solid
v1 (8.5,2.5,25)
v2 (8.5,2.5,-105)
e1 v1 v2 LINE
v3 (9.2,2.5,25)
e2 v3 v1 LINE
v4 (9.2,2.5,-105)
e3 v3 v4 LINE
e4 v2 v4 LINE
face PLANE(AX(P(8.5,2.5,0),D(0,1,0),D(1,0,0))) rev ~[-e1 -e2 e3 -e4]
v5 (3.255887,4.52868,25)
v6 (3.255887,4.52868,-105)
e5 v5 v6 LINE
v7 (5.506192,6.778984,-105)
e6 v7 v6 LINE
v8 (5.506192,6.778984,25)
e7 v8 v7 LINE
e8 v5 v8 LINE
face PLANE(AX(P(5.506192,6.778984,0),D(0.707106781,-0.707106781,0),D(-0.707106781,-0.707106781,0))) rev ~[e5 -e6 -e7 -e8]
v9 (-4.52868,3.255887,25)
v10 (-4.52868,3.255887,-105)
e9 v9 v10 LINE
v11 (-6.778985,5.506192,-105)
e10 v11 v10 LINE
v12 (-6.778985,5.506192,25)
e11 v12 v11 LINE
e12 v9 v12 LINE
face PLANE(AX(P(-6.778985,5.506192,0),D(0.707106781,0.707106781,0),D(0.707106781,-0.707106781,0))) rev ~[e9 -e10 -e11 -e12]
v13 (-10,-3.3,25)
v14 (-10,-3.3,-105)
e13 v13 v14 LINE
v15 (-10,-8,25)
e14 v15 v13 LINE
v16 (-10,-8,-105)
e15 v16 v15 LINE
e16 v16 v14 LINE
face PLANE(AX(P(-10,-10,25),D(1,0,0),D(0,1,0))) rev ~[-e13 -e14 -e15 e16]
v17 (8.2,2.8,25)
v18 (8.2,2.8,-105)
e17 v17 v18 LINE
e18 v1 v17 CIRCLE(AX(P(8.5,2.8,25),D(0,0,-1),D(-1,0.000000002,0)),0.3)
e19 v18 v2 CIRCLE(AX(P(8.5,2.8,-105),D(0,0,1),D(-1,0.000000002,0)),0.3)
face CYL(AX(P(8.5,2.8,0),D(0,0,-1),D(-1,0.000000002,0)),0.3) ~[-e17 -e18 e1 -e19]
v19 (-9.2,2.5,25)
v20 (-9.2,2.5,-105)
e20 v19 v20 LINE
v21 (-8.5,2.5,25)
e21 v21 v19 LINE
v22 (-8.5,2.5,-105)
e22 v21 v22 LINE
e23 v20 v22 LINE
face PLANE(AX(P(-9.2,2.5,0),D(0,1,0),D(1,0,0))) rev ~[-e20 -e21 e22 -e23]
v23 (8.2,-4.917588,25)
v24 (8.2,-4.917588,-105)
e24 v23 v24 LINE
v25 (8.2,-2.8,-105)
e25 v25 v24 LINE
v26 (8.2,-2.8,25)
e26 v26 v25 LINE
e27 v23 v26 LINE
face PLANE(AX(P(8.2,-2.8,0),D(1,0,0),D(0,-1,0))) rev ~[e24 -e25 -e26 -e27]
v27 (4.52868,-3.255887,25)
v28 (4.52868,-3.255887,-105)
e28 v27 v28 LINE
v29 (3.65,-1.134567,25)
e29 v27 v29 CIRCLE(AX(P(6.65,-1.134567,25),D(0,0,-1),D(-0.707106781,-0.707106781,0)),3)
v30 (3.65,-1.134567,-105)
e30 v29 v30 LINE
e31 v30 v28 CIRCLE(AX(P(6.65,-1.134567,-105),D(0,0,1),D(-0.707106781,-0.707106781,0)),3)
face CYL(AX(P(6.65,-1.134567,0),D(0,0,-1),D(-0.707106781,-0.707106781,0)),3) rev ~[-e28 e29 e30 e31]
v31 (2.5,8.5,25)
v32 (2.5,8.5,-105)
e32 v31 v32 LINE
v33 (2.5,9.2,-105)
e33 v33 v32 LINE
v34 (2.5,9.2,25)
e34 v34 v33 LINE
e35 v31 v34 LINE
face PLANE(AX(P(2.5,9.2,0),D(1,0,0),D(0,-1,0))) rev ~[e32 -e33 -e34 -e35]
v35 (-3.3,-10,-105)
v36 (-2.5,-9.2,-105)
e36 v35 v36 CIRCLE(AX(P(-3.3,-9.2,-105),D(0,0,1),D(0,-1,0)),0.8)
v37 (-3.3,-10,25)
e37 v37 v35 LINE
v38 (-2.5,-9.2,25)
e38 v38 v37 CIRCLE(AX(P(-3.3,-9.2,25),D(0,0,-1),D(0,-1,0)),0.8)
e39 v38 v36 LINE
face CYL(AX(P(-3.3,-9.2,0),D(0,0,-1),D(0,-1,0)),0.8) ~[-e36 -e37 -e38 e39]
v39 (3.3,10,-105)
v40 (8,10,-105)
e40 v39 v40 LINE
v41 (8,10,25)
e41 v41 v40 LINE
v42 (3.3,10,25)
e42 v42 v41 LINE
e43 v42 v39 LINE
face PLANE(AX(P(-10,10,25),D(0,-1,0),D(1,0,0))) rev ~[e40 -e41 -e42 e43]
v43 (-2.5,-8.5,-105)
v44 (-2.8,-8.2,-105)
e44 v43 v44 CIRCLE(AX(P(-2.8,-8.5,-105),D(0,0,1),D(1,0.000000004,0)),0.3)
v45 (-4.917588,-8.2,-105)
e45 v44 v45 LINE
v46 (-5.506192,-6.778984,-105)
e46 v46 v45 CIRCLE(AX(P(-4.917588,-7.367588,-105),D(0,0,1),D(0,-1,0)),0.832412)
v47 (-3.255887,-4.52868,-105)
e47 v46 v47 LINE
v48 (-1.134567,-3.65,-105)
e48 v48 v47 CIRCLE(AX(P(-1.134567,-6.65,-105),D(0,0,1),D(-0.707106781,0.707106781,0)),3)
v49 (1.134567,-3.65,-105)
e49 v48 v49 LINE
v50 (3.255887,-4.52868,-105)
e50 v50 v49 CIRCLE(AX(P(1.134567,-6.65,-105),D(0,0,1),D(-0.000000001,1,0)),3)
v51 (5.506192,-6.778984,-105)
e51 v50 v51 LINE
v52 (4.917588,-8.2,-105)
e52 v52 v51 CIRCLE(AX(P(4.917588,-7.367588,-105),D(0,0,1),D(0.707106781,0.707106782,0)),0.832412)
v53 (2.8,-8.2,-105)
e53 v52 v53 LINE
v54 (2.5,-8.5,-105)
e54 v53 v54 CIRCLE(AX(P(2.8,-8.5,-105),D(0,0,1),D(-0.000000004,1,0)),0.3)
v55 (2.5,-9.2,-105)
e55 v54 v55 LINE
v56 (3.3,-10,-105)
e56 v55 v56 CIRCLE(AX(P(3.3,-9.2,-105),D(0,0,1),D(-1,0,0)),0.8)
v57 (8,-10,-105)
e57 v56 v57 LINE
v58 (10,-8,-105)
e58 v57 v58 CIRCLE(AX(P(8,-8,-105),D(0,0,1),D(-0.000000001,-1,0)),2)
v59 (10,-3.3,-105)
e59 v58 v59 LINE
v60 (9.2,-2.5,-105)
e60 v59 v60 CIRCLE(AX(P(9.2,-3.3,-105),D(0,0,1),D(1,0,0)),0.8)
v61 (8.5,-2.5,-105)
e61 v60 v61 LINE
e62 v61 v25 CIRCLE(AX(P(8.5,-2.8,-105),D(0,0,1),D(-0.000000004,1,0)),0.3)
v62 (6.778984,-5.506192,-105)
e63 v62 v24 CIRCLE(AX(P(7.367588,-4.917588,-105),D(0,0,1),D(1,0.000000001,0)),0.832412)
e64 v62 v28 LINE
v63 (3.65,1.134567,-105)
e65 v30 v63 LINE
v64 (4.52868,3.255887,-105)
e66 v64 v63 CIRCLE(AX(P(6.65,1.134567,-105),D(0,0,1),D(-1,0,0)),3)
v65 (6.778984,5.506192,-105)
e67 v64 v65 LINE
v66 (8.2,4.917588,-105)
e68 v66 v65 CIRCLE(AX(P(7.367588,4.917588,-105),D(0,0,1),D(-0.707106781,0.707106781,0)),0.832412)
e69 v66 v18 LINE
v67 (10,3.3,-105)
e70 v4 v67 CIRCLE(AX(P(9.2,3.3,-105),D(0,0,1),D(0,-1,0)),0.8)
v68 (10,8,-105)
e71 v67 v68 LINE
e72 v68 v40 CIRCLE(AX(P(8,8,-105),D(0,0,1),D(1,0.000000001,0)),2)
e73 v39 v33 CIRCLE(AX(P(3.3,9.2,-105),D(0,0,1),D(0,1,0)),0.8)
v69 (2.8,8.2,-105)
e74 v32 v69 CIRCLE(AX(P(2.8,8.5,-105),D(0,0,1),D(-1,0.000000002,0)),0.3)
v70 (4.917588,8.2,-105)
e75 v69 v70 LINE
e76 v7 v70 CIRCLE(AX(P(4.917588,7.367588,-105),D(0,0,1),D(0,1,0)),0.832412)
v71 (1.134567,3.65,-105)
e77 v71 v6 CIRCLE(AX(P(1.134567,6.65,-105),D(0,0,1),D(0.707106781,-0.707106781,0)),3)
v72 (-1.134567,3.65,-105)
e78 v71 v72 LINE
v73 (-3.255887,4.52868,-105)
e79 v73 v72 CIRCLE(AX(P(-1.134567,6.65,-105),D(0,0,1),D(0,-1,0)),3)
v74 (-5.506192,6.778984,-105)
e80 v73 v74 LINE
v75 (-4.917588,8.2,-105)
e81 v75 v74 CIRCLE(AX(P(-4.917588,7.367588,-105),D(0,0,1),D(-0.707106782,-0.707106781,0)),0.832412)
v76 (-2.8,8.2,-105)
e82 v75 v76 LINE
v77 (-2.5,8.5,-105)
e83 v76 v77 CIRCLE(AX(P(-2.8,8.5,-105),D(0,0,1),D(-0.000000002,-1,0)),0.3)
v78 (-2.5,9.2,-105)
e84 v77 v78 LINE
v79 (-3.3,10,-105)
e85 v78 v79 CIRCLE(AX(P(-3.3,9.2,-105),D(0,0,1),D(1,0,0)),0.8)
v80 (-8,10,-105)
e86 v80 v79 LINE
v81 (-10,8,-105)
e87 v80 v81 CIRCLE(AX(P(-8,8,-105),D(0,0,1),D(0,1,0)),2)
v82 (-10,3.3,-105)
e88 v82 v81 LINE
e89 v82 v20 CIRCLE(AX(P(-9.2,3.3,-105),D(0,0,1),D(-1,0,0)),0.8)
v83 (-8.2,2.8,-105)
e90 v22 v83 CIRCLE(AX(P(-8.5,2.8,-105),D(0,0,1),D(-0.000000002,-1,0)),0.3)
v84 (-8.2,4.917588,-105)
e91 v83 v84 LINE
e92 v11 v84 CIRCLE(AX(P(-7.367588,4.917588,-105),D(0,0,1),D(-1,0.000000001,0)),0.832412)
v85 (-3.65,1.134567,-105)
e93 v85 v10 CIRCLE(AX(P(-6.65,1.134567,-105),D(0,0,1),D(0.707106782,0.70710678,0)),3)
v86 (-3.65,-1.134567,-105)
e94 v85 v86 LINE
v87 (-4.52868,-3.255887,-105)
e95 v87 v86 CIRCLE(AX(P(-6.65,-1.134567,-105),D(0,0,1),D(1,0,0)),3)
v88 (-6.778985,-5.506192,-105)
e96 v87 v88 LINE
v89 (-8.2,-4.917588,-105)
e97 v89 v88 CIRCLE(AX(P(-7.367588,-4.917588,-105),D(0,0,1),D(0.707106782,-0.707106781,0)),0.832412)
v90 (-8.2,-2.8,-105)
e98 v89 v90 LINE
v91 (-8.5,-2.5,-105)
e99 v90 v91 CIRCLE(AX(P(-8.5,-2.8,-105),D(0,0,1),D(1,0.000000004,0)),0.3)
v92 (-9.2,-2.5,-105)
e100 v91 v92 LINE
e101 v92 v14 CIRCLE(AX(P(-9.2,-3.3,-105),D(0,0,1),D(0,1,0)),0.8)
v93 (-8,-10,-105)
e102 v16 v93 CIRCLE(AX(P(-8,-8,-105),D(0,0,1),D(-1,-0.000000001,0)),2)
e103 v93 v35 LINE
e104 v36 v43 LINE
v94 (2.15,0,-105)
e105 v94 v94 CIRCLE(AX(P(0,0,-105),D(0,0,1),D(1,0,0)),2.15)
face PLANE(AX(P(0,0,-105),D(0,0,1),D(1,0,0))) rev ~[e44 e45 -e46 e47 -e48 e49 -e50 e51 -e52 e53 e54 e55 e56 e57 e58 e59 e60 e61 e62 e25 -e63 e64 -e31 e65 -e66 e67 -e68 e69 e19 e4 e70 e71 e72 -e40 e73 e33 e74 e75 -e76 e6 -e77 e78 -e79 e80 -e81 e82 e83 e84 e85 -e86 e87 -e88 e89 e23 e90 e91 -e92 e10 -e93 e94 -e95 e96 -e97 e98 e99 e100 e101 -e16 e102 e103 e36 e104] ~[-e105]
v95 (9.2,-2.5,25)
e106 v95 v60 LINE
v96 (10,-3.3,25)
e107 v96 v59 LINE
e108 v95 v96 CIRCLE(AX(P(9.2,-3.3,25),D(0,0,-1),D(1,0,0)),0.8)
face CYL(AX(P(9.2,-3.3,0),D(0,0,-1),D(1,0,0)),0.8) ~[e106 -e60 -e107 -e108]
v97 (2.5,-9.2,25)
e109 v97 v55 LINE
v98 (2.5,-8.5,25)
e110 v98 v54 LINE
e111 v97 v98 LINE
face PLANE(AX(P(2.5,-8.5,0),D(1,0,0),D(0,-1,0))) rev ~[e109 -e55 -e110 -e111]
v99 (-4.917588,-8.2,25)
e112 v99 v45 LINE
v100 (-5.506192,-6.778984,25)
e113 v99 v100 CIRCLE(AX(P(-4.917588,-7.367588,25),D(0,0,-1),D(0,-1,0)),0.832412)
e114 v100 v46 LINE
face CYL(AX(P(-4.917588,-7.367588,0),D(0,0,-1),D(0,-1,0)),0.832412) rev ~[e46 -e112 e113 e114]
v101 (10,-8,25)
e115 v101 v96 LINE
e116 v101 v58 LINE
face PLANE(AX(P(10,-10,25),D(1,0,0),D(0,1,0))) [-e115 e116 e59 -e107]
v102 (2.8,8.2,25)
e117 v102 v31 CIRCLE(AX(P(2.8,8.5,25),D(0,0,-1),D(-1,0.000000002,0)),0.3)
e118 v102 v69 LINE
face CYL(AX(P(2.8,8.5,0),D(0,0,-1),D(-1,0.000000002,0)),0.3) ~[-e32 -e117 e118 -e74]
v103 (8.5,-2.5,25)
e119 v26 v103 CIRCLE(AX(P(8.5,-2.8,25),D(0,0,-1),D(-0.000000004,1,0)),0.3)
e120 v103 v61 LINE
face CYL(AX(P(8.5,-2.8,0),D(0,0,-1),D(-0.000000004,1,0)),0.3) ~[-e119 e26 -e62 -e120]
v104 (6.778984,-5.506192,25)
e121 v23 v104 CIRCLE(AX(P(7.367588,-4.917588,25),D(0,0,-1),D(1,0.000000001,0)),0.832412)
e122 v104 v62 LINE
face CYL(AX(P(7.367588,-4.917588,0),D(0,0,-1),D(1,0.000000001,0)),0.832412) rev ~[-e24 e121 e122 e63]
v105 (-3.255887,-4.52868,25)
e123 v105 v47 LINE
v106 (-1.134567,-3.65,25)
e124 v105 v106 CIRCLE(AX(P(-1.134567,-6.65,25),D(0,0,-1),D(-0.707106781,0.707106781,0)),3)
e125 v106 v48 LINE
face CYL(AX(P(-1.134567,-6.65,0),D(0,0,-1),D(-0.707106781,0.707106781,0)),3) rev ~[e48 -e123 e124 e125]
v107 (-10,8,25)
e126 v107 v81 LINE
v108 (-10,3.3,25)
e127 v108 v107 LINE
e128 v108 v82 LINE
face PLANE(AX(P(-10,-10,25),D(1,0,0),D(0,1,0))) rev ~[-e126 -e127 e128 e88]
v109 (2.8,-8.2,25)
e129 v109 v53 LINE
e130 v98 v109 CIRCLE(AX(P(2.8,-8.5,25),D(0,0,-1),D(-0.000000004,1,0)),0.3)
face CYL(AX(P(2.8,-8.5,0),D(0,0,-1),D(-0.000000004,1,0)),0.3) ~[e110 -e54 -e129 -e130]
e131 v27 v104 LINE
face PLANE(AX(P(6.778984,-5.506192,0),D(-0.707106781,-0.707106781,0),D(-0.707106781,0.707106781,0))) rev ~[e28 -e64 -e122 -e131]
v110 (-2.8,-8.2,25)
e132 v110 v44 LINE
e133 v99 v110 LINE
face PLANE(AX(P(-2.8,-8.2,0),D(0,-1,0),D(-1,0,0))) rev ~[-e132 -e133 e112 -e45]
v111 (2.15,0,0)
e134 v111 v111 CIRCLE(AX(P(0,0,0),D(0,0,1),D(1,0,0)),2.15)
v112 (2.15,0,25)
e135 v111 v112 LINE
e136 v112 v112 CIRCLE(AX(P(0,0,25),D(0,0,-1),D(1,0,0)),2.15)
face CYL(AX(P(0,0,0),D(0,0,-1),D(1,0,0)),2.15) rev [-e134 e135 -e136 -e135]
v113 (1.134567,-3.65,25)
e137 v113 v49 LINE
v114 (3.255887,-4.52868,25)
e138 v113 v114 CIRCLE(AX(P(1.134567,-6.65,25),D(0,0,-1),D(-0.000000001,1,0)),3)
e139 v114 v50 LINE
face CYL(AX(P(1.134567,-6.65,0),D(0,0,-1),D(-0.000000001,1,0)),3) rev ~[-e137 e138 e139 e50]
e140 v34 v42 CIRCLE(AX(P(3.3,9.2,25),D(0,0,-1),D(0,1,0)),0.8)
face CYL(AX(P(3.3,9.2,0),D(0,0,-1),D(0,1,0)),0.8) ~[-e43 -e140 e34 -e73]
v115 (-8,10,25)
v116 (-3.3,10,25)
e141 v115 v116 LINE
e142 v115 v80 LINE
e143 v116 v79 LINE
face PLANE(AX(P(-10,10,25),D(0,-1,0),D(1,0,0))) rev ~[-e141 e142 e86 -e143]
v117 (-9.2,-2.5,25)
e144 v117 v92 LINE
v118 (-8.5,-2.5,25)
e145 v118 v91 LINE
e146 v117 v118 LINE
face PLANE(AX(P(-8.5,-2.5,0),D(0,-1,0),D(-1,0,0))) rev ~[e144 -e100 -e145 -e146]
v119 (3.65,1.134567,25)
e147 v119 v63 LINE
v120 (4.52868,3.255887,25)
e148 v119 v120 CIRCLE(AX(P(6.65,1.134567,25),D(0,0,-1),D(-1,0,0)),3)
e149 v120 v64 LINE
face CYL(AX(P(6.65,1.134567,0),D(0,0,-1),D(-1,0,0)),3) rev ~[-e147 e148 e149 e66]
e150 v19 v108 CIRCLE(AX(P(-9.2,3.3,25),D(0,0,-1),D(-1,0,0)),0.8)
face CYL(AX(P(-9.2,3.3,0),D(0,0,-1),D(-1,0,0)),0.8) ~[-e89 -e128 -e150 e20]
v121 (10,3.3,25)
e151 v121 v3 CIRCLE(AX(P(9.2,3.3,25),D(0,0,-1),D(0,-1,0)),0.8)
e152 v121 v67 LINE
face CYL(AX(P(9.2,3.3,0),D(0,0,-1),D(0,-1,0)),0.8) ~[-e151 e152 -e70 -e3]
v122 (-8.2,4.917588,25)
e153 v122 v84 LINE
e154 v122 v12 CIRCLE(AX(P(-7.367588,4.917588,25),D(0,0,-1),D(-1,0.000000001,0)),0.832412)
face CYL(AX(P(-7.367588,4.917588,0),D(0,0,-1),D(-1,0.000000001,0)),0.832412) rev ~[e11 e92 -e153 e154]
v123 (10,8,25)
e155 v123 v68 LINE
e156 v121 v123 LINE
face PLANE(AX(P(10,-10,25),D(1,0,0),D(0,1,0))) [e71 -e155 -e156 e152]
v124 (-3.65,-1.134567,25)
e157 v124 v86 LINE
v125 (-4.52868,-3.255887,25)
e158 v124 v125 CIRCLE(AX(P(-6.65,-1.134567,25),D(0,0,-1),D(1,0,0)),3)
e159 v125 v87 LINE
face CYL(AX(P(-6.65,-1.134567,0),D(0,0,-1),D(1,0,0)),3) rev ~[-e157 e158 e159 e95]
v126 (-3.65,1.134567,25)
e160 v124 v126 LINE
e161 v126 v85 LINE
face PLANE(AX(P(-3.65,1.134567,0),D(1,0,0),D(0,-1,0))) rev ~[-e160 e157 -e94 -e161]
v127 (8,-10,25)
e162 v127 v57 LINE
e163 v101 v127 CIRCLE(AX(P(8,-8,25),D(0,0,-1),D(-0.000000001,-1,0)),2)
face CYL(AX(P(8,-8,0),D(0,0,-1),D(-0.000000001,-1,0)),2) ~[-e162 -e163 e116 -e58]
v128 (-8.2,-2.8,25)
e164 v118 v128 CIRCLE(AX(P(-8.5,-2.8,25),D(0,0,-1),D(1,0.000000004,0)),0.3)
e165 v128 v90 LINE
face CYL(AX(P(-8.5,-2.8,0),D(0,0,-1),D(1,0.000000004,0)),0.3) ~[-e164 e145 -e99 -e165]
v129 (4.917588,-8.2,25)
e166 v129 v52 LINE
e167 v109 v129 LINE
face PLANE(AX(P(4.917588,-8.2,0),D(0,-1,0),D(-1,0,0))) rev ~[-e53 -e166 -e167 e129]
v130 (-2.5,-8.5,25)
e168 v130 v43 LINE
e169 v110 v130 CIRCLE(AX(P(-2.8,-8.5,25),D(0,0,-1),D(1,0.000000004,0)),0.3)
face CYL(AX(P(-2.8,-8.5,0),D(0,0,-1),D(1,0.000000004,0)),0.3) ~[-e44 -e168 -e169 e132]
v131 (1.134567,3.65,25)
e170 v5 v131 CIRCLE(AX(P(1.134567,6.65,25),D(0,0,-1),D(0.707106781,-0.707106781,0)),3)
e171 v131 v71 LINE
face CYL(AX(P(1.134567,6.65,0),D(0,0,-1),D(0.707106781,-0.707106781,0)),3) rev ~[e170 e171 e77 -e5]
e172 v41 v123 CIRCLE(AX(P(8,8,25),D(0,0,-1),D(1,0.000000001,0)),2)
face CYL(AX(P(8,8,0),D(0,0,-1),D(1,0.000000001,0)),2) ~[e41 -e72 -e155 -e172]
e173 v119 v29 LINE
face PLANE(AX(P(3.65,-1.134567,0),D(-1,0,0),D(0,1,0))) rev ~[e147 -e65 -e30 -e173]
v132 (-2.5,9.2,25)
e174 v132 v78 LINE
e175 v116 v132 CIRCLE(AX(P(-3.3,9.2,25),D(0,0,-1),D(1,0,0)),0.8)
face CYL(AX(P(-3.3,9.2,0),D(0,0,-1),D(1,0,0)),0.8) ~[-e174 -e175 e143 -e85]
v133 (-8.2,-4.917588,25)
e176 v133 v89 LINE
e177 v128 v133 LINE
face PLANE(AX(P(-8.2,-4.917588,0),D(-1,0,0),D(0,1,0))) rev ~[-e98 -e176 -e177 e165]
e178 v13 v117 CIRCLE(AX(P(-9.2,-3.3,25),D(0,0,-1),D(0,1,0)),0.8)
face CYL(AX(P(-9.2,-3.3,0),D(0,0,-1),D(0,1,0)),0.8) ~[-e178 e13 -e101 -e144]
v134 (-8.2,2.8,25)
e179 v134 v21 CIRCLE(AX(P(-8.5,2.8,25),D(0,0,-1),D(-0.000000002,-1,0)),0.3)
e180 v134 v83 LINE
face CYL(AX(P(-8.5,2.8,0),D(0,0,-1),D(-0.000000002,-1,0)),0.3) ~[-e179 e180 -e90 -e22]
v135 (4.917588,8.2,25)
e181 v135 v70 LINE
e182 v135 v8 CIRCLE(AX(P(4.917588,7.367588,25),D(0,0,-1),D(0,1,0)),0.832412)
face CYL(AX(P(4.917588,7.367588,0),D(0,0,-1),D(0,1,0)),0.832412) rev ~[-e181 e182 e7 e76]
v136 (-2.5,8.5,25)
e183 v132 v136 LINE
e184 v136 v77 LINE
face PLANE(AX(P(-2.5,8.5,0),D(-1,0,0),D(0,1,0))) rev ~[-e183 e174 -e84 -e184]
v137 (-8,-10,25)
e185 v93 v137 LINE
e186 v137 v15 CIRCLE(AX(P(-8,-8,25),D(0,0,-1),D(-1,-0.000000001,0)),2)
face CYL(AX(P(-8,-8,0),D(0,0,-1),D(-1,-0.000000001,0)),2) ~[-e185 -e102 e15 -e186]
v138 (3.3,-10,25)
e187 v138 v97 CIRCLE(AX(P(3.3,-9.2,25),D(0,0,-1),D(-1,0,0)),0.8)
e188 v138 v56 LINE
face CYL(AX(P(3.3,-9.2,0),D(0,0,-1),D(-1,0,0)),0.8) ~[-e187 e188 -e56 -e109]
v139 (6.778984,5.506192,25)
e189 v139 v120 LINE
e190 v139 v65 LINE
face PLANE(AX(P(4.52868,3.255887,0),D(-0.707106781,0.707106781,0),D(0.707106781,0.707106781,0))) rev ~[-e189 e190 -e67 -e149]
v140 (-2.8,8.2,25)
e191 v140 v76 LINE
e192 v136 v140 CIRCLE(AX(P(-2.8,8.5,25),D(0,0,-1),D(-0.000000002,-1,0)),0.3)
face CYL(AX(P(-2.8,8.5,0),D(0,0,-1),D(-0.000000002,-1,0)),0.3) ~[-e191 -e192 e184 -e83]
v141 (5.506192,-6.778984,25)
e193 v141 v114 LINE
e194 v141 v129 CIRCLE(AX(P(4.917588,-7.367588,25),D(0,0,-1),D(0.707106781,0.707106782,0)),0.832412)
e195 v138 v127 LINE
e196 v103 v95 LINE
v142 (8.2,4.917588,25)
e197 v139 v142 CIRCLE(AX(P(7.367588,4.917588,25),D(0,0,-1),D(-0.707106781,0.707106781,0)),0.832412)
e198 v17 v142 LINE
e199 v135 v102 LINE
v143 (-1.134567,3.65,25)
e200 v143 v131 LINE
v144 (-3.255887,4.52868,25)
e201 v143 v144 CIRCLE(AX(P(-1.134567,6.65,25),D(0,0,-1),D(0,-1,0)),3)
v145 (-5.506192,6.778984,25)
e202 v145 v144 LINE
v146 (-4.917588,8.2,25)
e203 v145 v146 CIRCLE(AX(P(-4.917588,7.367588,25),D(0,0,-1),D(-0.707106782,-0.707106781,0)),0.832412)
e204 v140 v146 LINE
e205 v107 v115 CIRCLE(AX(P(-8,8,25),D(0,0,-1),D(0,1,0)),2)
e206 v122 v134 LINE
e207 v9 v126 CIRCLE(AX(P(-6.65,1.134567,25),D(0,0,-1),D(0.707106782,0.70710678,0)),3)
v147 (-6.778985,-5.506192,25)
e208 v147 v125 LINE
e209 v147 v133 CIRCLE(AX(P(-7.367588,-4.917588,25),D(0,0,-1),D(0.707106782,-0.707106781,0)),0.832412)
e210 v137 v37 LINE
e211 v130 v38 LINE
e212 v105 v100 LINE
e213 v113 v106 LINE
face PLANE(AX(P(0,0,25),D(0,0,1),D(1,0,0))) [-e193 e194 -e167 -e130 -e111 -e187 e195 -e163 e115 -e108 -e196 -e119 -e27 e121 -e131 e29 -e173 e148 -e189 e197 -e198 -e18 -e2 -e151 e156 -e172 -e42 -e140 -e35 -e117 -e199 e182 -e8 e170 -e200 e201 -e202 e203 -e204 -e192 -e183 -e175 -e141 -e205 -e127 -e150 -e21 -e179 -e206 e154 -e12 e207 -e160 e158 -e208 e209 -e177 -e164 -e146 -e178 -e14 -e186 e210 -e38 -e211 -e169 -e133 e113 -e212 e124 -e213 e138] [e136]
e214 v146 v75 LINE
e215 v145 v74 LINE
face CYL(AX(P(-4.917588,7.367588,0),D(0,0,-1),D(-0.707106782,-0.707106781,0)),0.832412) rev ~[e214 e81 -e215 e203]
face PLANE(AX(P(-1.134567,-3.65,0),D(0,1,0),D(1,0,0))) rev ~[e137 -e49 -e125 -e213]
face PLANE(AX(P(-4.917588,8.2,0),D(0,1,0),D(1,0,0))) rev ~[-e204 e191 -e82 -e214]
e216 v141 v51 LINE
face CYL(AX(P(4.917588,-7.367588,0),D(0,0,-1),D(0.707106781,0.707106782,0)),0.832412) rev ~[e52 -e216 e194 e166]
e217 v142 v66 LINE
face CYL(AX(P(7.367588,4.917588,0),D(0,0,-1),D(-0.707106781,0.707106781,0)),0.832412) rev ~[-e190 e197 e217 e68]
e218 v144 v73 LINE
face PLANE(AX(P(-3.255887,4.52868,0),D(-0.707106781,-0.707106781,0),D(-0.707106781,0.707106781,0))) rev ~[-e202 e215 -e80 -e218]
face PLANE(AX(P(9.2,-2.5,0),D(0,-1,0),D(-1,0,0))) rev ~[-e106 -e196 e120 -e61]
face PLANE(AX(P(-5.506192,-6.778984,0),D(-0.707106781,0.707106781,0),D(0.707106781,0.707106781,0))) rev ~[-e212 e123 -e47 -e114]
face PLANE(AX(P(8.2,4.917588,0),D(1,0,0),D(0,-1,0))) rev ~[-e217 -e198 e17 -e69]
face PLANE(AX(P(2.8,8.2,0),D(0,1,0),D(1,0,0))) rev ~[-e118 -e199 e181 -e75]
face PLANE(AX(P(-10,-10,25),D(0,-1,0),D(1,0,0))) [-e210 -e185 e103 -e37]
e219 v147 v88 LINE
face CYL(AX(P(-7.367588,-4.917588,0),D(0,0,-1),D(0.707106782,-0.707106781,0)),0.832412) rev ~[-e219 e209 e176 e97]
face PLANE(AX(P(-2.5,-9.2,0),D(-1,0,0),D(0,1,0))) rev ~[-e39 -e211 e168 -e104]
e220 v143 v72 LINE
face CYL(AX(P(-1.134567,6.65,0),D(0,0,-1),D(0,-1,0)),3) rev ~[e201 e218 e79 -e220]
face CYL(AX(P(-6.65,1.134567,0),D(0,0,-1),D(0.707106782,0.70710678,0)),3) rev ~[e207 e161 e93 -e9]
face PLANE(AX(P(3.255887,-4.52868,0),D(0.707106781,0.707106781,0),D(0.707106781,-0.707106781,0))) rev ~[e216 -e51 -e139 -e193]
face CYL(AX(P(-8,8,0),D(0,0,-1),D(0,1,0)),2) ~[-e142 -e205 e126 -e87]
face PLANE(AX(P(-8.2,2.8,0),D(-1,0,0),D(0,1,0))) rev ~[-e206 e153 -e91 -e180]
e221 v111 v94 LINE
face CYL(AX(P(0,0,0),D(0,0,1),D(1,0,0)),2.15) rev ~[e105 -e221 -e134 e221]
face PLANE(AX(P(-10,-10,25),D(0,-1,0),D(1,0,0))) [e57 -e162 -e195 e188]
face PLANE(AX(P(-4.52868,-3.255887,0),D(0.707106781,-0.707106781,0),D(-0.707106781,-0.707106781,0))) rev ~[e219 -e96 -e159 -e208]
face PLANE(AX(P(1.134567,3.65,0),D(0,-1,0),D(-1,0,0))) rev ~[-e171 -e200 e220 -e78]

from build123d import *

# Parameters (mm, degrees)
SKETCH4_W              = 20
SKETCH4_H              = 20
BODY_DEPTH             = 130
SKETCH16_OUTSIDE_W     = 48.608
SKETCH16_OUTSIDE_H     = 48.608
SKETCH16_OUTSIDE_R     = 2.15
CUT_PROFILE_DEPTH      = 26
CUT_PROFILE_DEPTH_BACK = 106


with BuildPart() as part:
    # Sketch4 → Body (new body)
    with BuildSketch(Plane.XY.offset(25)):
        Rectangle(SKETCH4_W, SKETCH4_H)
    extrude(amount=-BODY_DEPTH)

    # Sketch16 outside → Cut-Profile (cut, two sides)
    with BuildSketch(Plane.XY) as cut_profile_sk:
        Rectangle(SKETCH16_OUTSIDE_W, SKETCH16_OUTSIDE_H)
        with BuildLine():
            Line((4.917588389, -8.199999991), (2.799999989, -8.199999991))
            ThreePointArc((2.799999989, -8.199999991), (2.587867955, -8.287867957), (2.499999989, -8.499999991))
            Line((2.499999989, -8.499999991), (2.499999989, -9.199999991))
            ThreePointArc((2.499999989, -9.199999991), (2.734314564, -9.765685416), (3.299999989, -9.999999991))
            Line((3.299999989, -9.999999991), (7.999999989, -9.999999991))
            ThreePointArc((7.999999989, -9.999999991), (9.414213552, -9.414213554), (9.999999989, -7.999999991))
            Line((9.999999989, -7.999999991), (9.999999989, -3.299999991))
            ThreePointArc((9.999999989, -3.299999991), (9.765685414, -2.734314566), (9.199999989, -2.499999991))
            Line((9.199999989, -2.499999991), (8.499999989, -2.499999991))
            ThreePointArc((8.499999989, -2.499999991), (8.287867955, -2.587867957), (8.199999989, -2.799999991))
            Line((8.199999989, -2.799999991), (8.199999989, -4.917588391))
            ThreePointArc((8.199999989, -4.917588391), (7.686138511, -5.686636441), (6.778984485, -5.506192286))
            Line((6.778984485, -5.506192286), (4.528679645, -3.255887446))
            ThreePointArc((4.528679645, -3.255887446), (3.878361392, -2.282617401), (3.64999999, -1.134567106))
            Line((3.64999999, -1.134567106), (3.64999999, 1.134567104))
            ThreePointArc((3.64999999, 1.134567104), (3.878361393, 2.282617402), (4.528679647, 3.255887448))
            Line((4.528679647, 3.255887448), (6.778984487, 5.506192288))
            ThreePointArc((6.778984487, 5.506192288), (7.686138506, 5.686636442), (8.199999981, 4.917588398))
            Line((8.199999981, 4.917588398), (8.199999981, 2.799999998))
            ThreePointArc((8.199999981, 2.799999998), (8.287867946, 2.587867964), (8.499999981, 2.499999998))
            Line((8.499999981, 2.499999998), (9.199999981, 2.499999998))
            ThreePointArc((9.199999981, 2.499999998), (9.765685406, 2.734314573), (9.999999981, 3.299999998))
            Line((9.999999981, 3.299999998), (9.999999981, 7.999999998))
            ThreePointArc((9.999999981, 7.999999998), (9.414213543, 9.41421356), (7.999999981, 9.999999998))
            Line((7.999999981, 9.999999998), (3.299999981, 9.999999998))
            ThreePointArc((3.299999981, 9.999999998), (2.734314556, 9.765685423), (2.499999981, 9.199999998))
            Line((2.499999981, 9.199999998), (2.499999981, 8.499999998))
            ThreePointArc((2.499999981, 8.499999998), (2.587867946, 8.287867964), (2.799999981, 8.199999998))
            Line((2.799999981, 8.199999998), (4.917588381, 8.199999998))
            ThreePointArc((4.917588381, 8.199999998), (5.68663643, 7.68613852), (5.506192275, 6.778984494))
            Line((5.506192275, 6.778984494), (3.255887435, 4.528679654))
            ThreePointArc((3.255887435, 4.528679654), (2.28261739, 3.878361401), (1.134567095, 3.649999999))
            Line((1.134567095, 3.649999999), (-1.134567115, 3.649999999))
            ThreePointArc((-1.134567115, 3.649999999), (-2.282617412, 3.878361401), (-3.255887459, 4.528679655))
            Line((-3.255887459, 4.528679655), (-5.506192299, 6.778984495))
            ThreePointArc((-5.506192299, 6.778984495), (-5.686636452, 7.686138515), (-4.917588409, 8.199999989))
            Line((-4.917588409, 8.199999989), (-2.800000009, 8.199999989))
            ThreePointArc((-2.800000009, 8.199999989), (-2.587867974, 8.287867955), (-2.500000009, 8.499999989))
            Line((-2.500000009, 8.499999989), (-2.500000009, 9.199999989))
            ThreePointArc((-2.500000009, 9.199999989), (-2.734314584, 9.765685414), (-3.300000009, 9.999999989))
            Line((-3.300000009, 9.999999989), (-8.000000009, 9.999999989))
            ThreePointArc((-8.000000009, 9.999999989), (-9.414213571, 9.414213552), (-10.000000009, 7.999999989))
            Line((-10.000000009, 7.999999989), (-10.000000009, 3.299999989))
            ThreePointArc((-10.000000009, 3.299999989), (-9.765685434, 2.734314564), (-9.200000009, 2.499999989))
            Line((-9.200000009, 2.499999989), (-8.500000009, 2.499999989))
            ThreePointArc((-8.500000009, 2.499999989), (-8.287867974, 2.587867955), (-8.200000009, 2.799999989))
            Line((-8.200000009, 2.799999989), (-8.200000009, 4.917588389))
            ThreePointArc((-8.200000009, 4.917588389), (-7.686138531, 5.686636438), (-6.778984504, 5.506192284))
            Line((-6.778984504, 5.506192284), (-4.528679664, 3.255887444))
            ThreePointArc((-4.528679664, 3.255887444), (-3.878361412, 2.282617399), (-3.650000009, 1.134567104))
            Line((-3.650000009, 1.134567104), (-3.650000009, -1.134567106))
            ThreePointArc((-3.650000009, -1.134567106), (-3.878361412, -2.282617404), (-4.528679666, -3.25588745))
            Line((-4.528679666, -3.25588745), (-6.778984506, -5.50619229))
            ThreePointArc((-6.778984506, -5.50619229), (-7.686138526, -5.686636444), (-8.2, -4.9175884))
            Line((-8.2, -4.9175884), (-8.2, -2.8))
            ThreePointArc((-8.2, -2.8), (-8.287867966, -2.587867966), (-8.5, -2.5))
            Line((-8.5, -2.5), (-9.2, -2.5))
            ThreePointArc((-9.2, -2.5), (-9.765685425, -2.734314575), (-10, -3.3))
            Line((-10, -3.3), (-10, -8))
            ThreePointArc((-10, -8), (-9.414213562, -9.414213562), (-8, -10))
            Line((-8, -10), (-3.3, -10))
            ThreePointArc((-3.3, -10), (-2.734314575, -9.765685425), (-2.5, -9.2))
            Line((-2.5, -9.2), (-2.5, -8.5))
            ThreePointArc((-2.5, -8.5), (-2.587867966, -8.287867966), (-2.8, -8.2))
            Line((-2.8, -8.2), (-4.9175884, -8.2))
            ThreePointArc((-4.9175884, -8.2), (-5.686636449, -7.686138522), (-5.506192294, -6.778984496))
            Line((-5.506192294, -6.778984496), (-3.255887454, -4.528679656))
            ThreePointArc((-3.255887454, -4.528679656), (-2.282617409, -3.878361403), (-1.134567114, -3.650000001))
            Line((-1.134567114, -3.650000001), (1.134567096, -3.650000001))
            ThreePointArc((1.134567096, -3.650000001), (2.282617393, -3.878361403), (3.255887439, -4.528679657))
            Line((3.255887439, -4.528679657), (5.506192279, -6.778984497))
            ThreePointArc((5.506192279, -6.778984497), (5.686636433, -7.686138517), (4.917588389, -8.199999991))
        make_face(mode=Mode.SUBTRACT)
        Circle(SKETCH16_OUTSIDE_R)
    extrude(amount=CUT_PROFILE_DEPTH, mode=Mode.SUBTRACT)
    extrude(cut_profile_sk.sketch, amount=-CUT_PROFILE_DEPTH_BACK, mode=Mode.SUBTRACT)


solid = part.part
